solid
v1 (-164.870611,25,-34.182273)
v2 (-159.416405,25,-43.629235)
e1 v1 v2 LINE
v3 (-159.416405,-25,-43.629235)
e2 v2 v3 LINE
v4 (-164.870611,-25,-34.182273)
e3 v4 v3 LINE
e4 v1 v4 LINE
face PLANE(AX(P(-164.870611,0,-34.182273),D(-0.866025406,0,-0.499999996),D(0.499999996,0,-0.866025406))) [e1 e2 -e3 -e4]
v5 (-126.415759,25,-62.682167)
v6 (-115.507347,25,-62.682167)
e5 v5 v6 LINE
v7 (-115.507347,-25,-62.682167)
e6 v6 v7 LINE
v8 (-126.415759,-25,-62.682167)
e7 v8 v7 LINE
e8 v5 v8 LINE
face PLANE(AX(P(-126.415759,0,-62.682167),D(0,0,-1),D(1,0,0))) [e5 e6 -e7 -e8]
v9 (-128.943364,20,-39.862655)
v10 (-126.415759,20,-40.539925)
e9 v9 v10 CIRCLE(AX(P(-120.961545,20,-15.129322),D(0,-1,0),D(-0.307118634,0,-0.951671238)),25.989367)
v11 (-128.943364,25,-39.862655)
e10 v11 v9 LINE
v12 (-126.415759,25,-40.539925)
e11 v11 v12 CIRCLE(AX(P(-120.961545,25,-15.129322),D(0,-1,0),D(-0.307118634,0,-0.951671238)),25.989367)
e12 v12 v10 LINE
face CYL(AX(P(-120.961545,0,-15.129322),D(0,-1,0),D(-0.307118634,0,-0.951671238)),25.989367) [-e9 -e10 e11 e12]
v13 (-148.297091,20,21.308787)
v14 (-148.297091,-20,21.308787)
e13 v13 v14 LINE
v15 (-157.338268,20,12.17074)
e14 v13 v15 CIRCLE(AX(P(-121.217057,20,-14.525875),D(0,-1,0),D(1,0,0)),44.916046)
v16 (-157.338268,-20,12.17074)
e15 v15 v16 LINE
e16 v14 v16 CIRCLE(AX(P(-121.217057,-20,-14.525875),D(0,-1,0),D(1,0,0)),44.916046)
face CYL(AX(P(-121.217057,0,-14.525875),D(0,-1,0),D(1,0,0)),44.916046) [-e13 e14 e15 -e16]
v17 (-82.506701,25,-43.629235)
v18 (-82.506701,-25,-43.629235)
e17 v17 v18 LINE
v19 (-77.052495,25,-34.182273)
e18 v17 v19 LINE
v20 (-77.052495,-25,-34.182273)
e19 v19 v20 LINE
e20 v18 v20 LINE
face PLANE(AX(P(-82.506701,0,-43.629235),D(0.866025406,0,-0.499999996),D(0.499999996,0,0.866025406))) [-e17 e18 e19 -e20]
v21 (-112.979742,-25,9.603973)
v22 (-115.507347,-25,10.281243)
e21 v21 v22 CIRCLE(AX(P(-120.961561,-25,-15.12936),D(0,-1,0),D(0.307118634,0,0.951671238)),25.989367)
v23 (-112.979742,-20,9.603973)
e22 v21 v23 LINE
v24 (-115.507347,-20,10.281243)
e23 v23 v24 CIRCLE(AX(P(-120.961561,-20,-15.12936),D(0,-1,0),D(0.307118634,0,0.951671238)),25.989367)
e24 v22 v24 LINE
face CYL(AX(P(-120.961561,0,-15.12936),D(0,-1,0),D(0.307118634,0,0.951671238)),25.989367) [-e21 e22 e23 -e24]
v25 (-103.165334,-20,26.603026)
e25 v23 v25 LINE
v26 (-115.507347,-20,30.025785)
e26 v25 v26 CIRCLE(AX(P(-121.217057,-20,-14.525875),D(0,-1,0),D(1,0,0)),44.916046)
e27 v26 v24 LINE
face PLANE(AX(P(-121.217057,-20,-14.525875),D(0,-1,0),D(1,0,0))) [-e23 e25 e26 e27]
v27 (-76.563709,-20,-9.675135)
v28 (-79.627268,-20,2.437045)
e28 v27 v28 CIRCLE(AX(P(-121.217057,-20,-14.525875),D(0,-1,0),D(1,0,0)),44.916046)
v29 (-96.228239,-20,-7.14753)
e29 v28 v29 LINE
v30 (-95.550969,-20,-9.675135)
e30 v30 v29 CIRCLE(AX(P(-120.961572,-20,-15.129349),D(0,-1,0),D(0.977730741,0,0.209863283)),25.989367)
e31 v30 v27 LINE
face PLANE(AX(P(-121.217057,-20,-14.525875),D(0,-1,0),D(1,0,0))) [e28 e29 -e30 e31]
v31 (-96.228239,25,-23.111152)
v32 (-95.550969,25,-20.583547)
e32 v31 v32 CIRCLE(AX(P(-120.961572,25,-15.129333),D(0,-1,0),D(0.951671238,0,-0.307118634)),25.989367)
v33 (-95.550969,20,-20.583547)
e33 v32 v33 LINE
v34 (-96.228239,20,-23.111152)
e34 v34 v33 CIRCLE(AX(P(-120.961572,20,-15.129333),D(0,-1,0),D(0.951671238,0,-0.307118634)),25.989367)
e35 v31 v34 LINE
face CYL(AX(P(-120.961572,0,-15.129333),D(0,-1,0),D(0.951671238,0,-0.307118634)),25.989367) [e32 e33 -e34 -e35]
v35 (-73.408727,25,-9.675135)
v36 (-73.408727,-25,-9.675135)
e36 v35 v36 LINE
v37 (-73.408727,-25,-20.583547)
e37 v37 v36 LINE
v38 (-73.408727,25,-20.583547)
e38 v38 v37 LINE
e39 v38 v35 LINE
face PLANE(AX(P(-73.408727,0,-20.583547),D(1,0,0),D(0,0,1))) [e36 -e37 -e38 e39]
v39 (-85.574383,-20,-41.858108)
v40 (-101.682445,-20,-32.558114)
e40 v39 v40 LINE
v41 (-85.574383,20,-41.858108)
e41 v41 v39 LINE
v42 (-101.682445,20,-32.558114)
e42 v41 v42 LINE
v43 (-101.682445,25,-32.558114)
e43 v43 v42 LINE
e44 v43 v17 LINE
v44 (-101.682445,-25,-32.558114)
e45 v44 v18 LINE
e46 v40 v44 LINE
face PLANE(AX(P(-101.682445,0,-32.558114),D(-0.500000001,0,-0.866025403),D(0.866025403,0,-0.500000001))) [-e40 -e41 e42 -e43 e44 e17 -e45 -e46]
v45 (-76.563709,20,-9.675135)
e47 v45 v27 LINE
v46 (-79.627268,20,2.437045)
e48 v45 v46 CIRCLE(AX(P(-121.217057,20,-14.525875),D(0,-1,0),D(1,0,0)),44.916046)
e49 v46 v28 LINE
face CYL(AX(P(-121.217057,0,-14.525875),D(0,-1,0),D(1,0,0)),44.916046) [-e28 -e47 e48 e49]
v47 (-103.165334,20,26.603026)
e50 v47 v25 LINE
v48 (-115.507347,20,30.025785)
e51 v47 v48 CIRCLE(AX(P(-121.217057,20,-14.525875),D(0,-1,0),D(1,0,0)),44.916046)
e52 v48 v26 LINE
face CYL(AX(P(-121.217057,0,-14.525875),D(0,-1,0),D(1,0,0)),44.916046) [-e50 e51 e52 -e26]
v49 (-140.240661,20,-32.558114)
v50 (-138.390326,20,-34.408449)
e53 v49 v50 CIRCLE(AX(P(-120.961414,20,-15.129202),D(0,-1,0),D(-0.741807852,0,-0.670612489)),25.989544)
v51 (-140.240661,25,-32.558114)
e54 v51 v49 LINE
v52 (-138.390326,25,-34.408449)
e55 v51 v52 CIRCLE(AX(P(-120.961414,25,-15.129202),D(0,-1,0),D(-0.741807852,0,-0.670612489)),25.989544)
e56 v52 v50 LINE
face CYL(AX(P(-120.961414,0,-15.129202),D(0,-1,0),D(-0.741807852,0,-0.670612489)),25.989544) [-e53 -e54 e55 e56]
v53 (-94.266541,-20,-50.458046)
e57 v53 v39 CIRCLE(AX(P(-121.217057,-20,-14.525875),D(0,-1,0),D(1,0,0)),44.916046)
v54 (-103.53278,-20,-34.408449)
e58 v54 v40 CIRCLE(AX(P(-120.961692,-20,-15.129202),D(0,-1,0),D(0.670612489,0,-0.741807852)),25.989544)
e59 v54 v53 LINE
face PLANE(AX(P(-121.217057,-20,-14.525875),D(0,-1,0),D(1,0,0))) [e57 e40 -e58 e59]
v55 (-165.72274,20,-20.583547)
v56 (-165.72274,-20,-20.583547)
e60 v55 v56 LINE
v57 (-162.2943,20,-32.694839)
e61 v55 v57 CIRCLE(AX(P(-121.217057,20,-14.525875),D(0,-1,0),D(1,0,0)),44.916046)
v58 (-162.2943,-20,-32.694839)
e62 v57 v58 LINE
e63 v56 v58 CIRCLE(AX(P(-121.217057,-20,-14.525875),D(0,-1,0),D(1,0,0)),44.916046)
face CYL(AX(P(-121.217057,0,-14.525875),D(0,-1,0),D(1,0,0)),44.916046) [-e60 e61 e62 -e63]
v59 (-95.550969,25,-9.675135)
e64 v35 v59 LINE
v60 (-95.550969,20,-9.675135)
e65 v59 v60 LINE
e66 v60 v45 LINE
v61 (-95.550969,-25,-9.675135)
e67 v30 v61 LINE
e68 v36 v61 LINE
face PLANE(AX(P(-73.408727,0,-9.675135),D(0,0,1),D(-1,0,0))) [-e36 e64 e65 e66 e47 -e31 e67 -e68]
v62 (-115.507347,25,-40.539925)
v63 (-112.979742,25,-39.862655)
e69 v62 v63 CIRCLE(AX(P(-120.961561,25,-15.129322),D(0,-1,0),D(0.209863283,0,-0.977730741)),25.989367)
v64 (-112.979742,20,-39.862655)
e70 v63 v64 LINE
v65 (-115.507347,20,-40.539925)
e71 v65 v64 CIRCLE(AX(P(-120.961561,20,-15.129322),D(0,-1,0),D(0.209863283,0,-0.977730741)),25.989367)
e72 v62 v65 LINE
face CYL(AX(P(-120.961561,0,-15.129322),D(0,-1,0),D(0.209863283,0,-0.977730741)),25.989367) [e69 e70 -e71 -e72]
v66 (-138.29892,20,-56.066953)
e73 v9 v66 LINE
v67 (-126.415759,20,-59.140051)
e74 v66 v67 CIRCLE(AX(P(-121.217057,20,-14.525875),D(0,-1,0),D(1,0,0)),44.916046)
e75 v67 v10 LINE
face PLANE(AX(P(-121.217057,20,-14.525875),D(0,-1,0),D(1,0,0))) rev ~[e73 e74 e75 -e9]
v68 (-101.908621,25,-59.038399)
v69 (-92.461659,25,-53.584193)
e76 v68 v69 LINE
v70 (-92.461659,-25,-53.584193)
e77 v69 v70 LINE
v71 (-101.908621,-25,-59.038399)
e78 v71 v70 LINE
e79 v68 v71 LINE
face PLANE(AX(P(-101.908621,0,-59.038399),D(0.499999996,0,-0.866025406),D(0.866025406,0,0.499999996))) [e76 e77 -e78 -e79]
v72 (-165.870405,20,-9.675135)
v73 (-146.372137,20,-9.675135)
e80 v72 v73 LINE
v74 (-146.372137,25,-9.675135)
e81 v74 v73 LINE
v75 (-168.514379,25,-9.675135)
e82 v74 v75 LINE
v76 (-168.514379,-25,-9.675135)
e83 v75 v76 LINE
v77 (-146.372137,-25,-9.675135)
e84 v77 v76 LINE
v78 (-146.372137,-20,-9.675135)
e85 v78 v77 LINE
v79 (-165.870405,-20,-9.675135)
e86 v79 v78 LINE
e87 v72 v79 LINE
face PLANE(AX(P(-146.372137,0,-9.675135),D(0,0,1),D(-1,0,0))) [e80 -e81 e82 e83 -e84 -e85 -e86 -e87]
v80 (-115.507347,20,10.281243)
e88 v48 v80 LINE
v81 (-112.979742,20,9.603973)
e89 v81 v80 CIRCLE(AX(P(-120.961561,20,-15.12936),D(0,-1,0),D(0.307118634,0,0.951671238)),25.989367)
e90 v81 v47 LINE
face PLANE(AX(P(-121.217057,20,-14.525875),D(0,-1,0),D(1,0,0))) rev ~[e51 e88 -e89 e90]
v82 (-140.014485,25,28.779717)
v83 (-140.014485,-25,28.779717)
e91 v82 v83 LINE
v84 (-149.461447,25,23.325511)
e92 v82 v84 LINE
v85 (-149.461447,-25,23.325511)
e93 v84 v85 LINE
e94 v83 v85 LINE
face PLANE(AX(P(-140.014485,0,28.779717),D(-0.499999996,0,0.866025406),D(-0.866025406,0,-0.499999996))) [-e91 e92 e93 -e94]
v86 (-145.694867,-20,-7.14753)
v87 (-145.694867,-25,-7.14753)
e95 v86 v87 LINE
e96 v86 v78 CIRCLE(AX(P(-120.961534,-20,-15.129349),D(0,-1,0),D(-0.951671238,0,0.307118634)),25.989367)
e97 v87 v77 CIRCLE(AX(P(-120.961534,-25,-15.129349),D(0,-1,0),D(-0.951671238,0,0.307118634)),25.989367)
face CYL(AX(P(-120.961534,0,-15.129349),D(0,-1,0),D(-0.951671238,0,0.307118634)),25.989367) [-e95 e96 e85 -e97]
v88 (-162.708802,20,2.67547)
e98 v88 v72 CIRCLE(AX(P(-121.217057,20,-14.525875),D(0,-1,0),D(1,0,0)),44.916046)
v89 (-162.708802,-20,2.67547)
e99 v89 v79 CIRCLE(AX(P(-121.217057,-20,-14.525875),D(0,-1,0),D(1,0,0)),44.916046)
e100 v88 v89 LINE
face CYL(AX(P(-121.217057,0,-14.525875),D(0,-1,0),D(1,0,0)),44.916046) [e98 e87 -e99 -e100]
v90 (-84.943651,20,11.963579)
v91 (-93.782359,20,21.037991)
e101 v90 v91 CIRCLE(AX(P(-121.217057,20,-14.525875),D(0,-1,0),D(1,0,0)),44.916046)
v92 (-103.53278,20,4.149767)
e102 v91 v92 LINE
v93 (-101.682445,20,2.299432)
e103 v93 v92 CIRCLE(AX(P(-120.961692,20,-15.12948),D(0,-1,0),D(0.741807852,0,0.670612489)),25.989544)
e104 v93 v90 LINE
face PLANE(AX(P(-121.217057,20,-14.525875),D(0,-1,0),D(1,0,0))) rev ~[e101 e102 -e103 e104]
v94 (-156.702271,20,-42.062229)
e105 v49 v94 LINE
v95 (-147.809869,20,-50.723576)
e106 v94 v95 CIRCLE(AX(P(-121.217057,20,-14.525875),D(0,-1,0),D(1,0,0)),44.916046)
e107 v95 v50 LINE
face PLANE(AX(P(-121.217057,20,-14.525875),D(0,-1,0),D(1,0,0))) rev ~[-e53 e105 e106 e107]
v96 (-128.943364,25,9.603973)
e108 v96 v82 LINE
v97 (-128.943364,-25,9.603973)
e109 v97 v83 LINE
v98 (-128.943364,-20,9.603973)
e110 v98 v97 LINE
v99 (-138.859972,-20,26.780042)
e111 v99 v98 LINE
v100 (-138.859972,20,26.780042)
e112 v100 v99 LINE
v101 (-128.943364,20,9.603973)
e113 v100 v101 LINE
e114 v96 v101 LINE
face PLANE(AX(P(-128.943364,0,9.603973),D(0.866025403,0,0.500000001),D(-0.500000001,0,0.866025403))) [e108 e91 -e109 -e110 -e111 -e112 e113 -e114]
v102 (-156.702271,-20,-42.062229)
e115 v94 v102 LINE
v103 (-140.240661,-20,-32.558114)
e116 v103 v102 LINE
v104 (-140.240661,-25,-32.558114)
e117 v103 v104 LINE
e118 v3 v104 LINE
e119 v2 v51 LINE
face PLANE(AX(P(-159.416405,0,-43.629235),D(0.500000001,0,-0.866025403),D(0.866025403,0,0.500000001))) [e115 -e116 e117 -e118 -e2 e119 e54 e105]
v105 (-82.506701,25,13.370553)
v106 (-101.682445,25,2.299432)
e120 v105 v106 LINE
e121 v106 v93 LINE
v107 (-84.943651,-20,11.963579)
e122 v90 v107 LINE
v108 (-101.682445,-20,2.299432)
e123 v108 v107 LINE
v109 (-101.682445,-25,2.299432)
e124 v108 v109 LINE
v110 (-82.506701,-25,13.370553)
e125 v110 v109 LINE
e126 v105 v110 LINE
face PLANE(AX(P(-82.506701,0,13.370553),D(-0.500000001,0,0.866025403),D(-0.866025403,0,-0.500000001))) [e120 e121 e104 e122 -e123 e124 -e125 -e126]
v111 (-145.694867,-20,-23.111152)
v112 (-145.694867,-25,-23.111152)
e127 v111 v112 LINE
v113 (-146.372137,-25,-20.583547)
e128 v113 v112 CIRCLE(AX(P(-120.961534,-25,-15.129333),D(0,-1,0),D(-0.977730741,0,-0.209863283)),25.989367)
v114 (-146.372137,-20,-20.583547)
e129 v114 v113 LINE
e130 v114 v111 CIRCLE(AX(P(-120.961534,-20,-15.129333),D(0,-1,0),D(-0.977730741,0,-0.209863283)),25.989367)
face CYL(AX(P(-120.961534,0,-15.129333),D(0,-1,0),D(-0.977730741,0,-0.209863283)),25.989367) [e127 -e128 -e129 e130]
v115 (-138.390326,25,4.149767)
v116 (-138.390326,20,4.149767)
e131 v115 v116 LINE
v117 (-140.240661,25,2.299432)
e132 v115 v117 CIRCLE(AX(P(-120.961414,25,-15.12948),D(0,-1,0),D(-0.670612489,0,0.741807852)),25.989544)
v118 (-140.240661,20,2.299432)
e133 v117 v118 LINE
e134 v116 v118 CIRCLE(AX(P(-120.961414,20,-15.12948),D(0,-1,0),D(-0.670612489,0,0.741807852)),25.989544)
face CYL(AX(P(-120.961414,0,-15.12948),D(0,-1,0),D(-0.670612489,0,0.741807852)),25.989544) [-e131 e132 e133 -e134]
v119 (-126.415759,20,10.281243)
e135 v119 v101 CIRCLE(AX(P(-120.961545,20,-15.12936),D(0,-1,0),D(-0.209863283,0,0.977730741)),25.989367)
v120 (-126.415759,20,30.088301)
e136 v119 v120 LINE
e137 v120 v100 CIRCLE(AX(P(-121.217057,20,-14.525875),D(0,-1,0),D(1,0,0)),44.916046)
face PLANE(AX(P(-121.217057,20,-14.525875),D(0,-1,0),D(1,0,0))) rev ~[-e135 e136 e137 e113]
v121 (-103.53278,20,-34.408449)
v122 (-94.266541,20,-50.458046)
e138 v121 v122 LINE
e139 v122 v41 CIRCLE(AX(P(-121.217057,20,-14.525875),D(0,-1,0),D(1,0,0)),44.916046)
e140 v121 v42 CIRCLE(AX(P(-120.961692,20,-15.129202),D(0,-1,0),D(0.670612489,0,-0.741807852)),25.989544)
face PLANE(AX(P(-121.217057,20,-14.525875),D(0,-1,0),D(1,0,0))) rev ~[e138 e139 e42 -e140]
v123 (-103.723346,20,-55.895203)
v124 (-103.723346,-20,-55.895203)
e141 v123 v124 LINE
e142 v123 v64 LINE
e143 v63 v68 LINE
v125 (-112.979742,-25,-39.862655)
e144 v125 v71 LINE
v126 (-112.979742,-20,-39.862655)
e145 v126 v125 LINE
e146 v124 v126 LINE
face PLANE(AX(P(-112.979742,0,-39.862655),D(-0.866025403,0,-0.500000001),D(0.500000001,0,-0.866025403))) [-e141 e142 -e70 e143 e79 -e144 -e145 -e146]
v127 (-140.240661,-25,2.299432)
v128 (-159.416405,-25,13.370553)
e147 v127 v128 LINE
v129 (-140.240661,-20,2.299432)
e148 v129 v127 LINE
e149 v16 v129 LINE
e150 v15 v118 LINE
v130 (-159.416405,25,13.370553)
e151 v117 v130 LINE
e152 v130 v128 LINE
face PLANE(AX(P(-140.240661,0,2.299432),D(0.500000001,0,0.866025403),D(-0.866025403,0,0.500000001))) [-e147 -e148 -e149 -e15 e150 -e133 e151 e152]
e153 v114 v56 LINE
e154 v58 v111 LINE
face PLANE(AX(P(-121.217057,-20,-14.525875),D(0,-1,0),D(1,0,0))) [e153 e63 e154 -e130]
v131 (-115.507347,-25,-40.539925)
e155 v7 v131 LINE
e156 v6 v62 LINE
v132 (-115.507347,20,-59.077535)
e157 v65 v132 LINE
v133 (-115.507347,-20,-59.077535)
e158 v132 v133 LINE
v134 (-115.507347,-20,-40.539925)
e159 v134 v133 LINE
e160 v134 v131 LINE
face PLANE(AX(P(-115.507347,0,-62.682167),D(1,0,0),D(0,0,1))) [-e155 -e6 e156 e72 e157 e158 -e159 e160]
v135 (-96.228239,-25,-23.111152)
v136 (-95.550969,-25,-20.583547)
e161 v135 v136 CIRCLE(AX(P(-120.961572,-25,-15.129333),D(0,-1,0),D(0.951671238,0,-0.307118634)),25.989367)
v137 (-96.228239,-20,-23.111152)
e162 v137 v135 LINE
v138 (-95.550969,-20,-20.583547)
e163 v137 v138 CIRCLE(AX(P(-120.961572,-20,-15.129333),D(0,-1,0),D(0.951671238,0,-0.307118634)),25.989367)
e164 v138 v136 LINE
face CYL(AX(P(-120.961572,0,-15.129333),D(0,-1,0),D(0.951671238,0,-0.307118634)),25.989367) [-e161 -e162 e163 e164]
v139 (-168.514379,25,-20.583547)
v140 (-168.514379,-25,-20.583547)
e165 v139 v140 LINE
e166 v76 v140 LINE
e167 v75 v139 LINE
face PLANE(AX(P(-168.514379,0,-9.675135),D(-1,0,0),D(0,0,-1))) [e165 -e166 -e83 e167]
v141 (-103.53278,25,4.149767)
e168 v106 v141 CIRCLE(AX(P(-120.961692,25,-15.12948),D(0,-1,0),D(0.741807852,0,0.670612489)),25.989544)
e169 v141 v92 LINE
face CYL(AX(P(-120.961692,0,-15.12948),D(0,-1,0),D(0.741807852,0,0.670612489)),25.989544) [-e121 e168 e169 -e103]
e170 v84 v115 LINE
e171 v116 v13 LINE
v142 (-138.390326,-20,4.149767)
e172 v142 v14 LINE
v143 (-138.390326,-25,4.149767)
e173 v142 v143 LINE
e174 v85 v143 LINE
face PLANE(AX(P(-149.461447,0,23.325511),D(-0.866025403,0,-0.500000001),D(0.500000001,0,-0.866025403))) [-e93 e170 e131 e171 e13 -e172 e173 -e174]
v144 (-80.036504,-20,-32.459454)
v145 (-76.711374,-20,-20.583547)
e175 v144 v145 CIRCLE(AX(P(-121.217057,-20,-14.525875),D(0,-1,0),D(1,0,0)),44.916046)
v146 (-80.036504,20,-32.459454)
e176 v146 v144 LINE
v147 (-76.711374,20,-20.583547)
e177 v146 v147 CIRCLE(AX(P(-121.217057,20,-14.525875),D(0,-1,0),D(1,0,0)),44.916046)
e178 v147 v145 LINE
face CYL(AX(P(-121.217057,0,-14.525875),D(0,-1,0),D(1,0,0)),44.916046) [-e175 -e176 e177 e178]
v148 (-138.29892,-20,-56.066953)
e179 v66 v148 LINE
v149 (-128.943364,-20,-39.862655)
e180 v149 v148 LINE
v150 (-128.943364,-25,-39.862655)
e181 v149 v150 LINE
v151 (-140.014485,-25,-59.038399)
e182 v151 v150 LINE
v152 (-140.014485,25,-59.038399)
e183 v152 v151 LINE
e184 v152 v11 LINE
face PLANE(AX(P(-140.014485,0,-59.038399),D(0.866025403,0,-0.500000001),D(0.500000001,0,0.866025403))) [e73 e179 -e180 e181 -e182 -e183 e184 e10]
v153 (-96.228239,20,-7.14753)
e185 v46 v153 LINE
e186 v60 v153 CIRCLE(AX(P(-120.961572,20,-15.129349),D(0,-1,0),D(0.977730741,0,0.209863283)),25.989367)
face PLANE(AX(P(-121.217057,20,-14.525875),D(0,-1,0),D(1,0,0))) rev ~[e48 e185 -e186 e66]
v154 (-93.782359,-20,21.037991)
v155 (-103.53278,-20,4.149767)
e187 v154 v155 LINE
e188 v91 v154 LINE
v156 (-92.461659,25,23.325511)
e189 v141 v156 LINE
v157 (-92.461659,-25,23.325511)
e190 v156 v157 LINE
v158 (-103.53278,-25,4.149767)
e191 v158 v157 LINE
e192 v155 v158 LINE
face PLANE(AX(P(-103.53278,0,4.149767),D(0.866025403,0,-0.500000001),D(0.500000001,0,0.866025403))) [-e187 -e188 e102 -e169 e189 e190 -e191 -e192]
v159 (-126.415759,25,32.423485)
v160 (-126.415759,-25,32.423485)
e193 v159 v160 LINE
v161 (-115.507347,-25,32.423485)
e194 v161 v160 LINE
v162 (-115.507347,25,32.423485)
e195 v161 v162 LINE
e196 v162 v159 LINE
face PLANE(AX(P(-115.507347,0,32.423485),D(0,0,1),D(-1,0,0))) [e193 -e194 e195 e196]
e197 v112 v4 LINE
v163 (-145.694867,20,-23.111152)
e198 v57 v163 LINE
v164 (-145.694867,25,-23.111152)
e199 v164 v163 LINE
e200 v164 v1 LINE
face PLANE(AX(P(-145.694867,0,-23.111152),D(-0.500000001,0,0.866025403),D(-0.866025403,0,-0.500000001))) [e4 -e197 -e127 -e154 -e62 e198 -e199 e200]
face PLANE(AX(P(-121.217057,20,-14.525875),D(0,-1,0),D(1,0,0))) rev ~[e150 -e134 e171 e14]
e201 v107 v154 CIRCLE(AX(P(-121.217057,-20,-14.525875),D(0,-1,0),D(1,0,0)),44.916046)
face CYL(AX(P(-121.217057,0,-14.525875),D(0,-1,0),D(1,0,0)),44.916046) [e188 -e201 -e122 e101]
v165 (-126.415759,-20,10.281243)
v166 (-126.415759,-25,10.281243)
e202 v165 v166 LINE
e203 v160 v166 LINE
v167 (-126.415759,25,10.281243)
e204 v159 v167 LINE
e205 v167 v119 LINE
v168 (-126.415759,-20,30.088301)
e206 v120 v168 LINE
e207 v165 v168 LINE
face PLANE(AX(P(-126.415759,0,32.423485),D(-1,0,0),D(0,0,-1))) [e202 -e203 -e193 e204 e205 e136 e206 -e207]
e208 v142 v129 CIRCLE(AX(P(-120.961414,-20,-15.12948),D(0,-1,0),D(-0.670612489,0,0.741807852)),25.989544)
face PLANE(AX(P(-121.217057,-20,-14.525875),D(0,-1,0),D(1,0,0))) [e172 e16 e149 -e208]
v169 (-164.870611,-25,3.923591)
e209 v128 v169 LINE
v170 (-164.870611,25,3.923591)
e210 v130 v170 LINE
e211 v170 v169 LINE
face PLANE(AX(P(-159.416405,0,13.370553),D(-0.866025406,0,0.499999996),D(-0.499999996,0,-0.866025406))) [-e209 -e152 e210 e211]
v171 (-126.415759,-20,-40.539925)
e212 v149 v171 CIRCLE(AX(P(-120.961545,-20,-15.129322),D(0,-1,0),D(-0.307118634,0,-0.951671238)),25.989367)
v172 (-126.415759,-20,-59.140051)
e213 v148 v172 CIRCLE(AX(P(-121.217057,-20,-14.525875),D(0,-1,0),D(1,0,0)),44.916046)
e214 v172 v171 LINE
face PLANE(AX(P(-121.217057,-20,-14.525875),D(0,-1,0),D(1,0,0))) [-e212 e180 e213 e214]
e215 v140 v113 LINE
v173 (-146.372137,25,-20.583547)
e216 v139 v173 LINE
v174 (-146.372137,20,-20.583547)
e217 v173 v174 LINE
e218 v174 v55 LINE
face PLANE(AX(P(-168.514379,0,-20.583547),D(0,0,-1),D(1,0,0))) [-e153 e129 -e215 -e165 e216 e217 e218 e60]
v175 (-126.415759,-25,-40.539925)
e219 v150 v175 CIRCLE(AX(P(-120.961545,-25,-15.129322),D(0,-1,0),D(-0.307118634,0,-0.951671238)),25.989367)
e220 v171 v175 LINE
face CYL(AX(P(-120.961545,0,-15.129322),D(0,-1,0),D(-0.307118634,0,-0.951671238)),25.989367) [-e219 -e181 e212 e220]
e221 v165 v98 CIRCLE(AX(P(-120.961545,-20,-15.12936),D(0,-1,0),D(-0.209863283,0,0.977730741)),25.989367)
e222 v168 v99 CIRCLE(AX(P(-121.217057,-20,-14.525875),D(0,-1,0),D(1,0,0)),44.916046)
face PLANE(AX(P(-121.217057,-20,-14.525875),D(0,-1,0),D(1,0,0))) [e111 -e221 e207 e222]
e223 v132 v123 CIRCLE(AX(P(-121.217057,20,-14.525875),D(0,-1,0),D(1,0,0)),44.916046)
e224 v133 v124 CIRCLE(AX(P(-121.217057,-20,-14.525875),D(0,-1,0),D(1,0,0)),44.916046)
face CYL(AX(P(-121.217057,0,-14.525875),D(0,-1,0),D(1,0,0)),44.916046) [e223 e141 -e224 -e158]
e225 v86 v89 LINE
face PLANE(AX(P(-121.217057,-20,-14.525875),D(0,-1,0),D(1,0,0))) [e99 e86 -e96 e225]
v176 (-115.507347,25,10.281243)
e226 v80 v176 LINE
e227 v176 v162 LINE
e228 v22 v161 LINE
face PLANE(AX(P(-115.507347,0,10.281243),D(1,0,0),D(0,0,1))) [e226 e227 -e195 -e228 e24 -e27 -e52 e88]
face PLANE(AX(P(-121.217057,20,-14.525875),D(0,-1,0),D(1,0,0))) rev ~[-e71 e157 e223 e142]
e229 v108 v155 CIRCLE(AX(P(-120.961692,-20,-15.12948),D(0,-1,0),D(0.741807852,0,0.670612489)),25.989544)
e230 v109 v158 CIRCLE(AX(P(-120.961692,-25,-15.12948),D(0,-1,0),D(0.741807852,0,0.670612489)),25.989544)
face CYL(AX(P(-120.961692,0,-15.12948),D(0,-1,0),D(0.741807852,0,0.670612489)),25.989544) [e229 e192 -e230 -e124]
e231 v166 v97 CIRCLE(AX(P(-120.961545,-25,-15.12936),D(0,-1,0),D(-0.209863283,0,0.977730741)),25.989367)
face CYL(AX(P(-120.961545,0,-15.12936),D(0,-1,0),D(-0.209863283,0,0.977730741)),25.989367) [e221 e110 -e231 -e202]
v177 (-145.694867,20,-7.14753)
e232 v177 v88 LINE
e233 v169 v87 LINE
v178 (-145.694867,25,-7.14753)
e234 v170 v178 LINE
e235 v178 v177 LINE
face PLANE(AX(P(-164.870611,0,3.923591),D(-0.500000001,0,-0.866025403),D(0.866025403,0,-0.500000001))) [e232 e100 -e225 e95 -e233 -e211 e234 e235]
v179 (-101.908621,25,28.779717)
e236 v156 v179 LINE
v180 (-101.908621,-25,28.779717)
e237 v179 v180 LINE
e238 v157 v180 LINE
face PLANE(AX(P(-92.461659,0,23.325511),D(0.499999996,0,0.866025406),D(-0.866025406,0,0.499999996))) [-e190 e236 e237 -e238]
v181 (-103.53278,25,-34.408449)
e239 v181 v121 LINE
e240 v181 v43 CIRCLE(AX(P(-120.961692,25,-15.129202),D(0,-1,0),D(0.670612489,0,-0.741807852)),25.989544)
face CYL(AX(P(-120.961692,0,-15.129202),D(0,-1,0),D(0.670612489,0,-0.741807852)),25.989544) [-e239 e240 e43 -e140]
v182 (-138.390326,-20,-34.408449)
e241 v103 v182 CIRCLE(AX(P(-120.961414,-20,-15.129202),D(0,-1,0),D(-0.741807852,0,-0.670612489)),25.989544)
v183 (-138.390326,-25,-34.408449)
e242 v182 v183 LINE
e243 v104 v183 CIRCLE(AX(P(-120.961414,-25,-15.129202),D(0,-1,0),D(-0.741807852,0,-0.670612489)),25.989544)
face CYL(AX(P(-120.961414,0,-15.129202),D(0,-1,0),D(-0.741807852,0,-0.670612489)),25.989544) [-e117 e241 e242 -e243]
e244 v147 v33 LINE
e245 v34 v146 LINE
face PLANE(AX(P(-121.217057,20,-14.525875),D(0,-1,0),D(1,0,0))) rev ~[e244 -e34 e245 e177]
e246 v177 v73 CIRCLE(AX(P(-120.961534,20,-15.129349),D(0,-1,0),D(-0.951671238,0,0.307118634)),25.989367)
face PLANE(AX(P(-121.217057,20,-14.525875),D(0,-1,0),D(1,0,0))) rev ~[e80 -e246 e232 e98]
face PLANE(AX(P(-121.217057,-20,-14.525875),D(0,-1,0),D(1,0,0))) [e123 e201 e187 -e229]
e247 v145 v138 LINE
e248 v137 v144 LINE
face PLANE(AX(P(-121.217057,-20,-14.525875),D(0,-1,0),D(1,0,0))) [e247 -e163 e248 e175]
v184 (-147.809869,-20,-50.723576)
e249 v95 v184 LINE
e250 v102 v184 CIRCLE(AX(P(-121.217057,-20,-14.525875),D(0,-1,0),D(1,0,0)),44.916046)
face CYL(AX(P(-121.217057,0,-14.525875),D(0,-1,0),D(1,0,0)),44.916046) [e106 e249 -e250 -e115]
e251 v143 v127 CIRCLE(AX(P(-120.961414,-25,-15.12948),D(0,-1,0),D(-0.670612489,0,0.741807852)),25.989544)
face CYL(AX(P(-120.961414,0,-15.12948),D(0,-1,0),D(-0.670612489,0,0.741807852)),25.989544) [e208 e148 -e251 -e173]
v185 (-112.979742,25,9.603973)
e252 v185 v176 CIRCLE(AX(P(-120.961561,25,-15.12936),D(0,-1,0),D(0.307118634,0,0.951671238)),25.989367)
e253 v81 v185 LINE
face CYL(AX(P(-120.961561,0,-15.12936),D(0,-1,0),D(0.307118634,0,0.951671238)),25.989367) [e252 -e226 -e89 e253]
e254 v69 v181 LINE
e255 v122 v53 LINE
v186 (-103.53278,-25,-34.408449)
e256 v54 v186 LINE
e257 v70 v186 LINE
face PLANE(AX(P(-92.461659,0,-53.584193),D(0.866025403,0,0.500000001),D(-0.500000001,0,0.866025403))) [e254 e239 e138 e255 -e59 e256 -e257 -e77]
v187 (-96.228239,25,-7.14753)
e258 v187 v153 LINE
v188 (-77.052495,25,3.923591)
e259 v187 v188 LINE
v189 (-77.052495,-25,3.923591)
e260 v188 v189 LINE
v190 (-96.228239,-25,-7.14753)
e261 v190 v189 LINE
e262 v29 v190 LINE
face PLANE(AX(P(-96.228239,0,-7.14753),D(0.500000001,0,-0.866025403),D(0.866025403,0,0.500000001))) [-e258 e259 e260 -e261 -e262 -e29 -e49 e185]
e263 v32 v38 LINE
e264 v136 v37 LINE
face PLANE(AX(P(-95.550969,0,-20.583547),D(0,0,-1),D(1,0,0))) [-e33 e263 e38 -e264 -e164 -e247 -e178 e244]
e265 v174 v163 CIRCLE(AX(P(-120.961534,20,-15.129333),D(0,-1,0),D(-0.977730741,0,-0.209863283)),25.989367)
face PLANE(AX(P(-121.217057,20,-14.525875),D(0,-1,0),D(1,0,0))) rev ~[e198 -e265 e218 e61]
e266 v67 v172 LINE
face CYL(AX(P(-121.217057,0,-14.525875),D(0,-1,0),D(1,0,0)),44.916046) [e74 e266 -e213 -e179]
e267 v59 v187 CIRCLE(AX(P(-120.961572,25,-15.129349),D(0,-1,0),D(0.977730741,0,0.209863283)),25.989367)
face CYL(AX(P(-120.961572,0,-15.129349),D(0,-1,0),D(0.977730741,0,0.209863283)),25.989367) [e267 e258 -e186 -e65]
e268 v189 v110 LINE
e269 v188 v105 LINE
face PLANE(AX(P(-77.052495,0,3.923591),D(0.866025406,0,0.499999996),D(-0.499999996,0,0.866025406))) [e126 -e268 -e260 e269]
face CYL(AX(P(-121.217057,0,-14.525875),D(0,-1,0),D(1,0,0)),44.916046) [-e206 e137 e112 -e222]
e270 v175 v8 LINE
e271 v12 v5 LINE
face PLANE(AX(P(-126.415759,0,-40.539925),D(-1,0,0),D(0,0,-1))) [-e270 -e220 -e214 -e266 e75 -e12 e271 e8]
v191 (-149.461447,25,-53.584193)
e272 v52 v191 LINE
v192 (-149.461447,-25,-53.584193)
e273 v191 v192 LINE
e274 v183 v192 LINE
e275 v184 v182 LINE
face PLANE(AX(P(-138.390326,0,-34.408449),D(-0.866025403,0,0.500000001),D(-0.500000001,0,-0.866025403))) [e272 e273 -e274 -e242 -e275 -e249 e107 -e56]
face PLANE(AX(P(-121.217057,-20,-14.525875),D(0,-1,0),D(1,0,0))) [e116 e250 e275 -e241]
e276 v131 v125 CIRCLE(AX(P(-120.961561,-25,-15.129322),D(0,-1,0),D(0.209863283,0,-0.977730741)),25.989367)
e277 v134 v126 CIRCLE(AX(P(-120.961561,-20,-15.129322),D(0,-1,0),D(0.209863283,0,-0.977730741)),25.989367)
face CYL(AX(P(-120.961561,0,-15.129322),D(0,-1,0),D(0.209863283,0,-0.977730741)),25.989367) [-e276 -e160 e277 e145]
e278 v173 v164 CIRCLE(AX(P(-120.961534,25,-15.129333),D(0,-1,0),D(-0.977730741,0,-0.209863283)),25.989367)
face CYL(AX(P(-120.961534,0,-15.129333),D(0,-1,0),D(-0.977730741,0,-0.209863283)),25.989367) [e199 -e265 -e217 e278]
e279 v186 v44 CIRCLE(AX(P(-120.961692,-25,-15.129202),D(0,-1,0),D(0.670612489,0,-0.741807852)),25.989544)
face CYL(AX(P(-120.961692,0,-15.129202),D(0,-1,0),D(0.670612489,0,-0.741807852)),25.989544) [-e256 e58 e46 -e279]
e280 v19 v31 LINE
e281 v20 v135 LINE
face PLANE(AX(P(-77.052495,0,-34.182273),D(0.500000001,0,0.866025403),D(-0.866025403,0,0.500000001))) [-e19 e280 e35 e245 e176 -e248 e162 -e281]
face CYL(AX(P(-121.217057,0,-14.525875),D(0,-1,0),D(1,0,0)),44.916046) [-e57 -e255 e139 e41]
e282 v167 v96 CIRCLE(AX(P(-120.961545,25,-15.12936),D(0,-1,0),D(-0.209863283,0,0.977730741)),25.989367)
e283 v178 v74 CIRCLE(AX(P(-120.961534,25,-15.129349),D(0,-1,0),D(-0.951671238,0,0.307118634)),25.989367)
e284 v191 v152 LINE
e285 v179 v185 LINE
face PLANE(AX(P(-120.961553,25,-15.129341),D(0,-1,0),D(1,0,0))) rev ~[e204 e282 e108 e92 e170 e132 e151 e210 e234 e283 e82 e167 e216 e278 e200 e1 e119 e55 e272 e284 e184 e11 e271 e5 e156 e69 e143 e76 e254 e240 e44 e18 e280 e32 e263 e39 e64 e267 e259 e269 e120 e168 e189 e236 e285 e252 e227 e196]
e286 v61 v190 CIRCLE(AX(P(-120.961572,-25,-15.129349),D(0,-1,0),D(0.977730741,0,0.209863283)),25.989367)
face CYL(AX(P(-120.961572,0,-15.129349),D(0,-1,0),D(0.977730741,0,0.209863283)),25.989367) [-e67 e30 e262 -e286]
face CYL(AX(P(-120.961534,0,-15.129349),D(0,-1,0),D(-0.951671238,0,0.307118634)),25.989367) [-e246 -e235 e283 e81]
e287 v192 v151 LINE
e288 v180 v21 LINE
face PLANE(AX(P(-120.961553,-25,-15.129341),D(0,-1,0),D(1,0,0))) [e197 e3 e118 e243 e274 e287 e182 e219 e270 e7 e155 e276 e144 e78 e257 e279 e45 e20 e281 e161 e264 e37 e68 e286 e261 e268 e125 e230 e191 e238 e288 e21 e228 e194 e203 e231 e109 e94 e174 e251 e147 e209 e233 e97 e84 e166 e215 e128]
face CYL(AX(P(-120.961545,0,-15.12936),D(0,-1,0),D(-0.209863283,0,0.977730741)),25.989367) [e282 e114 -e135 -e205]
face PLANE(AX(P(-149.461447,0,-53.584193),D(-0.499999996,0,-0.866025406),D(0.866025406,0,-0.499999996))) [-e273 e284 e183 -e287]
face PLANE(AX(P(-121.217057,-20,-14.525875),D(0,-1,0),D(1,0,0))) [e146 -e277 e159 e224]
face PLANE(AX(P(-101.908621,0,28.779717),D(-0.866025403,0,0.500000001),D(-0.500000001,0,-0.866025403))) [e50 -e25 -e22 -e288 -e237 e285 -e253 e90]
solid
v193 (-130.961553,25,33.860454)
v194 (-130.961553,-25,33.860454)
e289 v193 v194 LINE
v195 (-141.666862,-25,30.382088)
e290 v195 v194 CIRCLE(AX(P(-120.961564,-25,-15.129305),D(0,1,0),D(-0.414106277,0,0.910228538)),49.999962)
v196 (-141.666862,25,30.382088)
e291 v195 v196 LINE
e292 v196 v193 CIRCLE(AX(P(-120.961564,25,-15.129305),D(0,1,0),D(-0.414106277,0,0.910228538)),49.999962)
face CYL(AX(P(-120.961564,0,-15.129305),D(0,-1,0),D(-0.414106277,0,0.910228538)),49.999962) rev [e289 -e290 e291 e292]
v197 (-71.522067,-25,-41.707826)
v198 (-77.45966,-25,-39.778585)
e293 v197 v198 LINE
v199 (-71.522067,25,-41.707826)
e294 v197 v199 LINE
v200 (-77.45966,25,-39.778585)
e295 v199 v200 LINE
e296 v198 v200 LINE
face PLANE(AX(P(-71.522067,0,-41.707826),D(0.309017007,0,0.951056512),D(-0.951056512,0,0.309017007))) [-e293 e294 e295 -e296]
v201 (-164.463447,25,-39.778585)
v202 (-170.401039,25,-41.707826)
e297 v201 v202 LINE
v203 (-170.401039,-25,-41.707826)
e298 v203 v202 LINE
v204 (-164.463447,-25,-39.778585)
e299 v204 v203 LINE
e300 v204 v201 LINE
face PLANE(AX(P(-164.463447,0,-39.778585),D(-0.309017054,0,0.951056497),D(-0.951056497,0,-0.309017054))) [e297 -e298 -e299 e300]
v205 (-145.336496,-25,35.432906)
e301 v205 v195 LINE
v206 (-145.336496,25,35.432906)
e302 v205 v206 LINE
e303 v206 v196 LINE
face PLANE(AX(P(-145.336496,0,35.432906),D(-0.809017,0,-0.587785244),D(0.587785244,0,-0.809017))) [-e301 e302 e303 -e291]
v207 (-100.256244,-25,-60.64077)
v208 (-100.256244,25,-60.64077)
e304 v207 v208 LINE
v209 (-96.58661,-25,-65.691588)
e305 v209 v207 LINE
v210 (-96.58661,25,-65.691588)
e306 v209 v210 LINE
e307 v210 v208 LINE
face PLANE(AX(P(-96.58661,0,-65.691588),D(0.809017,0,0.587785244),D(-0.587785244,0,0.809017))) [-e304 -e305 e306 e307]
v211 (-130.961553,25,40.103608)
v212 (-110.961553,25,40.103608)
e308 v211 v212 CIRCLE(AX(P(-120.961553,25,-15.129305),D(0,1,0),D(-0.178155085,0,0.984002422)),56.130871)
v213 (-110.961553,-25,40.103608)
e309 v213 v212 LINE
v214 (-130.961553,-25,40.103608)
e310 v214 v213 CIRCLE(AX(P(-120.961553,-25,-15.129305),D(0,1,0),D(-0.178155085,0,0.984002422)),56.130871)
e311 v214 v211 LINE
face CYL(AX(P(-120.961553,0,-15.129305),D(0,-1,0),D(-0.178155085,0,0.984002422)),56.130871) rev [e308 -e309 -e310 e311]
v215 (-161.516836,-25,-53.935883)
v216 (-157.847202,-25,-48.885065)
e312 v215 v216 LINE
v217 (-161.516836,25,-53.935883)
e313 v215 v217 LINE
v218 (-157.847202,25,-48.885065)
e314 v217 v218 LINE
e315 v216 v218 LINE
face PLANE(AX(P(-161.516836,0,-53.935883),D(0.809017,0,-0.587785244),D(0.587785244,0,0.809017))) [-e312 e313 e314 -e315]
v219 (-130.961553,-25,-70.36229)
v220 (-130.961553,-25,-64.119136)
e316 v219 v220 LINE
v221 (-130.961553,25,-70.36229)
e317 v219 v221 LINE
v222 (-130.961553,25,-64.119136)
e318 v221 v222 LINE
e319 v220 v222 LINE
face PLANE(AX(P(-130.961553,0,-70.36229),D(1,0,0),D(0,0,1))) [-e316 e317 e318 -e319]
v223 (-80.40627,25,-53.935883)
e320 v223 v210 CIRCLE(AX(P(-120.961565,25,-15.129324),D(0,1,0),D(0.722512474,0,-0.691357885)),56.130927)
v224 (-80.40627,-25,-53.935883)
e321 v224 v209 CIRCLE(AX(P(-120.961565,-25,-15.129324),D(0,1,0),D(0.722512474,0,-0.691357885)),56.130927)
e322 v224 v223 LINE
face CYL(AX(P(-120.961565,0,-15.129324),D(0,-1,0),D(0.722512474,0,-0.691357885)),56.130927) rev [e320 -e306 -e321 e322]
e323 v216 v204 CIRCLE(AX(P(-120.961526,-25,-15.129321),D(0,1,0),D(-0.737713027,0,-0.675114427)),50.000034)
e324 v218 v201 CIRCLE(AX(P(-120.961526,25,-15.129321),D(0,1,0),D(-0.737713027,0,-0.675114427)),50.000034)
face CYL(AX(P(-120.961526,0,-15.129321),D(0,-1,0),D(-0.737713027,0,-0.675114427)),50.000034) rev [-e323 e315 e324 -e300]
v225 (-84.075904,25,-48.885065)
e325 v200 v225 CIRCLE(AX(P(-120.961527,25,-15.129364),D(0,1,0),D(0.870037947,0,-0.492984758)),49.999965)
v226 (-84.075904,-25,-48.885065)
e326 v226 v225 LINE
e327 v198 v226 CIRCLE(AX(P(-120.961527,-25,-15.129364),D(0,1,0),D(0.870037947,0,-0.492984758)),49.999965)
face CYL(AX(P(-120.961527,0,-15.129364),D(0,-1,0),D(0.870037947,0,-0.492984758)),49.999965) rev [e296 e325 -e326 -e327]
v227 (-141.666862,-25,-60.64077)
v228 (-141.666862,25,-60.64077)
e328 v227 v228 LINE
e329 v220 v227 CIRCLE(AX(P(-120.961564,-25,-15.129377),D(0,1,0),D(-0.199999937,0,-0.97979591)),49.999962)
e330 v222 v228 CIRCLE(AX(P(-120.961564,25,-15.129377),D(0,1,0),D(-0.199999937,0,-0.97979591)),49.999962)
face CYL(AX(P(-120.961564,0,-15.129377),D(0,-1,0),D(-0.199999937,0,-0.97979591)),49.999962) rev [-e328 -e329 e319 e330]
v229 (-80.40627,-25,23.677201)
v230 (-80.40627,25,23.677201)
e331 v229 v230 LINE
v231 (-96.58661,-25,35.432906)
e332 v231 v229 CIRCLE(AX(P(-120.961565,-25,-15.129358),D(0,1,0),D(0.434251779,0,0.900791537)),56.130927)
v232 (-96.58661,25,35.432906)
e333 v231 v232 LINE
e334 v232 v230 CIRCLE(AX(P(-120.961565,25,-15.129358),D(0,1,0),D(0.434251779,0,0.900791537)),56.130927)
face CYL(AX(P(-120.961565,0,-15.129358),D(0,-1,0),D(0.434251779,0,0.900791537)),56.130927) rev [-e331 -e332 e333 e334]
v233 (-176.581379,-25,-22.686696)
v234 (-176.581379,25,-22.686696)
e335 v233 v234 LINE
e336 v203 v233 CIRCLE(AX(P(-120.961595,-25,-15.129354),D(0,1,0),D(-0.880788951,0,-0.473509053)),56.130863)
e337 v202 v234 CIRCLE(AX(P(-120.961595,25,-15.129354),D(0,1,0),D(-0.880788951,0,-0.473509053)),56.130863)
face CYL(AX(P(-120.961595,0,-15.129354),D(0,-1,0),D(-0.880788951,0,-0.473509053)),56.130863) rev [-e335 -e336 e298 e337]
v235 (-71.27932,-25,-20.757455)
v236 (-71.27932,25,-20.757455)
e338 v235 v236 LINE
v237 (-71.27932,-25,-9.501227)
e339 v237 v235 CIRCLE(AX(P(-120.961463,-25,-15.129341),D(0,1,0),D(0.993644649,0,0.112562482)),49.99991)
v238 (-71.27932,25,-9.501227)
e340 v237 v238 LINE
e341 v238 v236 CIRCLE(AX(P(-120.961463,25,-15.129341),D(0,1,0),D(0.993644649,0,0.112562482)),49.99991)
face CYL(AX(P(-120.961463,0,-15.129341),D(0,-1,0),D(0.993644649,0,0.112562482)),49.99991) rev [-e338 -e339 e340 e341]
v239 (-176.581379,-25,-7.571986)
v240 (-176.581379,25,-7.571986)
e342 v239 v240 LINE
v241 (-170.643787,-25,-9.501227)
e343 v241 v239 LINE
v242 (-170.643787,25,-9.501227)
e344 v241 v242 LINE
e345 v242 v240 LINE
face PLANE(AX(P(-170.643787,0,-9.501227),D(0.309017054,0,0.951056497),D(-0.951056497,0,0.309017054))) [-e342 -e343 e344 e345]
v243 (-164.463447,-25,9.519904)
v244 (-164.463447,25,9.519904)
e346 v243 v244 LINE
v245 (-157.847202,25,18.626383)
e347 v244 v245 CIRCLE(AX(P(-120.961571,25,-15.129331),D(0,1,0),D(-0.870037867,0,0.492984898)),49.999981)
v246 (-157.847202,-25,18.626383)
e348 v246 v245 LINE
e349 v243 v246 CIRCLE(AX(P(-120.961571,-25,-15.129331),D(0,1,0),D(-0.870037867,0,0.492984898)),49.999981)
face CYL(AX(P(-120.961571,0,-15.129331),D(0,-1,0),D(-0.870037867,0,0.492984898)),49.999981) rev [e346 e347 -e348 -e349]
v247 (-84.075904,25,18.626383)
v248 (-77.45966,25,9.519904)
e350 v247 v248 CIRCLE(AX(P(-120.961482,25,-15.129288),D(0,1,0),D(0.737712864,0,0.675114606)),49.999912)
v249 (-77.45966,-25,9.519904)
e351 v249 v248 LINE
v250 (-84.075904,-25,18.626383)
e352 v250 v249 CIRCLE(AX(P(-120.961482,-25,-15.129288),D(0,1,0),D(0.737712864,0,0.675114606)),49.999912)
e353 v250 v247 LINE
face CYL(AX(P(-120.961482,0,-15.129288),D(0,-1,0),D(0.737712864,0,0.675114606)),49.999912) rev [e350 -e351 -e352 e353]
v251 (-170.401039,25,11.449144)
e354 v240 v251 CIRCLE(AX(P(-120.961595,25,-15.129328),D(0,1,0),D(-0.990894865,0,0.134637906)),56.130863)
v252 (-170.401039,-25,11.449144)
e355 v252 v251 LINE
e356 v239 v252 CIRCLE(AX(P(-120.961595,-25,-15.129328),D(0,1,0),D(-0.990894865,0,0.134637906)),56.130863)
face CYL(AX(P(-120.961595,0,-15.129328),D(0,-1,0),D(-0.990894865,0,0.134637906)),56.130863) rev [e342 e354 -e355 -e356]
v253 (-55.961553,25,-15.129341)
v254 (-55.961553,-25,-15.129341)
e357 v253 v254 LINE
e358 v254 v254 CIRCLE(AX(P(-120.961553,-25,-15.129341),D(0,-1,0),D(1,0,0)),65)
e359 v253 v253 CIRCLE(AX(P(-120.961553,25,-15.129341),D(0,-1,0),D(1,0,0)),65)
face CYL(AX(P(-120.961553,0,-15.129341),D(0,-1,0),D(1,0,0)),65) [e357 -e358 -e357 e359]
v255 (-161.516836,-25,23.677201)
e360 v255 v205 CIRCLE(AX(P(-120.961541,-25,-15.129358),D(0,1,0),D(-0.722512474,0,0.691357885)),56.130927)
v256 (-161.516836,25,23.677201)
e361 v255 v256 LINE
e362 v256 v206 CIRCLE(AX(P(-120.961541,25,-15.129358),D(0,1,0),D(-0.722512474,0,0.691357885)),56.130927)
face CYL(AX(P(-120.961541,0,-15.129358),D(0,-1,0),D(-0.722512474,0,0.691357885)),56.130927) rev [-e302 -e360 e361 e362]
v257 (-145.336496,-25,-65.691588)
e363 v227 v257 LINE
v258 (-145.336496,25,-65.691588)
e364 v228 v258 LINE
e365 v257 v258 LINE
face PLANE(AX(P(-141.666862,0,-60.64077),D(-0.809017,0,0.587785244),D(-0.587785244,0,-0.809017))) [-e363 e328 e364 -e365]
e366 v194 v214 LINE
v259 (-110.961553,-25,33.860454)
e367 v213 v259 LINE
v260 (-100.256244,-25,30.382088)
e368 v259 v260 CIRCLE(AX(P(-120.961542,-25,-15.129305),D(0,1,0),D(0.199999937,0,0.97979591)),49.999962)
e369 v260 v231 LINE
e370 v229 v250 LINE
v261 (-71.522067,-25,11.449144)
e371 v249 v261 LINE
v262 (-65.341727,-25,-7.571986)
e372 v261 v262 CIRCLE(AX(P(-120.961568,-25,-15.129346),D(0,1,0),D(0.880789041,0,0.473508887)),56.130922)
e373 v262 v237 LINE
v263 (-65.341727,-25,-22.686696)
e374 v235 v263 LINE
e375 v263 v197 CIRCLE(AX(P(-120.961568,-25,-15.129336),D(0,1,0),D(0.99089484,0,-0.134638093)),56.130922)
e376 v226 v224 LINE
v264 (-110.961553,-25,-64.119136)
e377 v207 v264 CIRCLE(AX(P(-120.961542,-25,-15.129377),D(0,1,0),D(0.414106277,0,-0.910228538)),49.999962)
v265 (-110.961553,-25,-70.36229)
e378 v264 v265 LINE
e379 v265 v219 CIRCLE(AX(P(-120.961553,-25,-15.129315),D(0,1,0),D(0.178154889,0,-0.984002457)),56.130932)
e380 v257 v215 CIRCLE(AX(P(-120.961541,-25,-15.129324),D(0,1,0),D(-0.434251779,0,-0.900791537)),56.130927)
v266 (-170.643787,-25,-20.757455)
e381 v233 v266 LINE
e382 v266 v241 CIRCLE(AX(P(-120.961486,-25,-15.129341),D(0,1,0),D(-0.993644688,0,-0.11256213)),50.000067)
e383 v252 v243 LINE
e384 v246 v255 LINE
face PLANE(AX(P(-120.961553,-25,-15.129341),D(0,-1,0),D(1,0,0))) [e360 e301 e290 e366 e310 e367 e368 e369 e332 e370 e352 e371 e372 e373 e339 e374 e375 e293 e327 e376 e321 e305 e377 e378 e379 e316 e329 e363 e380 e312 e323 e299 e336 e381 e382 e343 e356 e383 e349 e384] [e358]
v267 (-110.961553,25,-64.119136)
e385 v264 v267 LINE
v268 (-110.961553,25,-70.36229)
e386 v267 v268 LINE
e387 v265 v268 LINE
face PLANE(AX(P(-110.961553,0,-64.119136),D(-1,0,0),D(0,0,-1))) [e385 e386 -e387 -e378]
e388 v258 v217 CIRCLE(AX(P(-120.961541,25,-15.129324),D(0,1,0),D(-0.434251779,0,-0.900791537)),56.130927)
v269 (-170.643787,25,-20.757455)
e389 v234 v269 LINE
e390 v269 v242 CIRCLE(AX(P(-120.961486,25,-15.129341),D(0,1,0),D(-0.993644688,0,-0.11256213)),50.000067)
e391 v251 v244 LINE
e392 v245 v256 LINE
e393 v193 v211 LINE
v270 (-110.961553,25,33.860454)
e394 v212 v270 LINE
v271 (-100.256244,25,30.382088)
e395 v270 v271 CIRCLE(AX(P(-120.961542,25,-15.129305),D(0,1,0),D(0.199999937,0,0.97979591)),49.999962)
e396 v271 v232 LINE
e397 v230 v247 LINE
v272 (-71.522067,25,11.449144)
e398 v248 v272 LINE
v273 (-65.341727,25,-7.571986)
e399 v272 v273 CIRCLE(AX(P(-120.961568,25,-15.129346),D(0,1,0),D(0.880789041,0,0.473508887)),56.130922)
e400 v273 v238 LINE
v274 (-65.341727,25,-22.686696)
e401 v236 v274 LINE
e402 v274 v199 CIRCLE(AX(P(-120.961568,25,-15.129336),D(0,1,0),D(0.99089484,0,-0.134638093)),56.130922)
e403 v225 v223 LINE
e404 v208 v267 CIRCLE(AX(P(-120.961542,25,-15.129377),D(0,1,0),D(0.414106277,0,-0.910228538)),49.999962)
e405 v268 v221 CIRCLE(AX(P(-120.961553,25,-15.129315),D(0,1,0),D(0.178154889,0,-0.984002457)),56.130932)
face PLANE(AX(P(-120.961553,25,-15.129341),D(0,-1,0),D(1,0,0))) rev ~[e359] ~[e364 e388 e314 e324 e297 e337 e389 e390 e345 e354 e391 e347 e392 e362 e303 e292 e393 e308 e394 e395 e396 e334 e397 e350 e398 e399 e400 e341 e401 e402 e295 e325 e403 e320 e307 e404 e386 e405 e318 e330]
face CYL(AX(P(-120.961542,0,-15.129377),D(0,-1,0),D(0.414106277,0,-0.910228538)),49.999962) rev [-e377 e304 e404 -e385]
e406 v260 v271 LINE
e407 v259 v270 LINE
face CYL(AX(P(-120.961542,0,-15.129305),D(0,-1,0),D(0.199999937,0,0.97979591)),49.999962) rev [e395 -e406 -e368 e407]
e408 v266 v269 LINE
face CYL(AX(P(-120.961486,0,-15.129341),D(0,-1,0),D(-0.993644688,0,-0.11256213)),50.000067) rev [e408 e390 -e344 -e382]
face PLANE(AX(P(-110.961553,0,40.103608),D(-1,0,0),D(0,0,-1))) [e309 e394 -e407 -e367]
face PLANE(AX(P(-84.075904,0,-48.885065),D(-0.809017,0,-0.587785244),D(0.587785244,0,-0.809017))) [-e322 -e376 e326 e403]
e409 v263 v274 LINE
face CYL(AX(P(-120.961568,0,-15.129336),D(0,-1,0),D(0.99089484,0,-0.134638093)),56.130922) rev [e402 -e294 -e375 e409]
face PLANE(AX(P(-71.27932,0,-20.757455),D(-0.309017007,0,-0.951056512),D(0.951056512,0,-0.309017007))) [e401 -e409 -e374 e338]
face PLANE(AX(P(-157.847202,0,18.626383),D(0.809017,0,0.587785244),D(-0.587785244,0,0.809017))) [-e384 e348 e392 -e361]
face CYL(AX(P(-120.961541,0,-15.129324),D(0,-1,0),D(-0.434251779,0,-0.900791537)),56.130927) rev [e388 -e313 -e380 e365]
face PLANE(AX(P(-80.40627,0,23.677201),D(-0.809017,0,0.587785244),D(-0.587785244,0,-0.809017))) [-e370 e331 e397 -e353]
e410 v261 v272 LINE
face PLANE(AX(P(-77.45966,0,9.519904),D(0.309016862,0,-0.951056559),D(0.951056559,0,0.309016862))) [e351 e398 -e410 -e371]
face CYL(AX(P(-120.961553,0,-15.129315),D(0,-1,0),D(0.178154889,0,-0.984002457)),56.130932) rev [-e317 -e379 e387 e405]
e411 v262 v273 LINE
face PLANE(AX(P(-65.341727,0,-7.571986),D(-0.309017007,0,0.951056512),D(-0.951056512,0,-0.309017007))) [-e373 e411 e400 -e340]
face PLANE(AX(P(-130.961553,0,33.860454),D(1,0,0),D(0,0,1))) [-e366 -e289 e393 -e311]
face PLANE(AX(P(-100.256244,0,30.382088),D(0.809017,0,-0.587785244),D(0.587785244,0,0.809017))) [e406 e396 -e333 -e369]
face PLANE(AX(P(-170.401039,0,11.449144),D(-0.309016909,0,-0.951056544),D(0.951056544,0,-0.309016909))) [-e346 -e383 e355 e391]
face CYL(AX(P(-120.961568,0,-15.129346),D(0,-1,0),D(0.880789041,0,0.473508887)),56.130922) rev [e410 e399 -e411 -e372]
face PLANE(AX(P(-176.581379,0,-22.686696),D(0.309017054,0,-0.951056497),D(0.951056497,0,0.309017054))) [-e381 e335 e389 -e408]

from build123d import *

# Parameters (mm, degrees)
F2_DEPTH = 25
F0_R     = 65
F3_DEPTH = 25
F1_R     = 44.916046
F4_DEPTH = 20


with BuildPart() as f2:
    # F0 (on Front) → F2 (new body, symmetric)
    with BuildSketch(Plane.XZ):
        with BuildLine():
            Line((-115.507347, 32.423485), (-120.961553, 32.423485))
            Line((-120.961553, 32.423485), (-126.415759, 32.423485))
            Line((-126.415759, 32.423485), (-126.415759, 10.281243))
            ThreePointArc((-126.415759, 10.281243), (-127.688091, 9.97444), (-128.943364, 9.603973))
            Line((-128.943364, 9.603973), (-140.014485, 28.779717))
            Line((-140.014485, 28.779717), (-144.737966, 26.052614))
            Line((-144.737966, 26.052614), (-149.461447, 23.325511))
            Line((-149.461447, 23.325511), (-138.390326, 4.149767))
            ThreePointArc((-138.390326, 4.149767), (-139.338796, 3.247902), (-140.240661, 2.299432))
            Line((-140.240661, 2.299432), (-159.416405, 13.370553))
            Line((-159.416405, 13.370553), (-162.143508, 8.647072))
            Line((-162.143508, 8.647072), (-164.870611, 3.923591))
            Line((-164.870611, 3.923591), (-145.694867, -7.14753))
            ThreePointArc((-145.694867, -7.14753), (-146.065334, -8.402803), (-146.372137, -9.675135))
            Line((-146.372137, -9.675135), (-168.514379, -9.675135))
            Line((-168.514379, -9.675135), (-168.514379, -15.129341))
            Line((-168.514379, -15.129341), (-168.514379, -20.583547))
            Line((-168.514379, -20.583547), (-146.372137, -20.583547))
            ThreePointArc((-146.372137, -20.583547), (-146.065334, -21.855879), (-145.694867, -23.111152))
            Line((-145.694867, -23.111152), (-164.870611, -34.182273))
            Line((-164.870611, -34.182273), (-162.143508, -38.905754))
            Line((-162.143508, -38.905754), (-159.416405, -43.629235))
            Line((-159.416405, -43.629235), (-140.240661, -32.558114))
            ThreePointArc((-140.240661, -32.558114), (-139.338796, -33.506584), (-138.390326, -34.408449))
            Line((-138.390326, -34.408449), (-149.461447, -53.584193))
            Line((-149.461447, -53.584193), (-144.737966, -56.311296))
            Line((-144.737966, -56.311296), (-140.014485, -59.038399))
            Line((-140.014485, -59.038399), (-128.943364, -39.862655))
            ThreePointArc((-128.943364, -39.862655), (-127.688091, -40.233122), (-126.415759, -40.539925))
            Line((-126.415759, -40.539925), (-126.415759, -62.682167))
            Line((-126.415759, -62.682167), (-120.961553, -62.682167))
            Line((-120.961553, -62.682167), (-115.507347, -62.682167))
            Line((-115.507347, -62.682167), (-115.507347, -40.539925))
            ThreePointArc((-115.507347, -40.539925), (-114.235015, -40.233122), (-112.979742, -39.862655))
            Line((-112.979742, -39.862655), (-101.908621, -59.038399))
            Line((-101.908621, -59.038399), (-97.18514, -56.311296))
            Line((-97.18514, -56.311296), (-92.461659, -53.584193))
            Line((-92.461659, -53.584193), (-103.53278, -34.408449))
            ThreePointArc((-103.53278, -34.408449), (-102.58431, -33.506584), (-101.682445, -32.558114))
            Line((-101.682445, -32.558114), (-82.506701, -43.629235))
            Line((-82.506701, -43.629235), (-79.779598, -38.905754))
            Line((-79.779598, -38.905754), (-77.052495, -34.182273))
            Line((-77.052495, -34.182273), (-96.228239, -23.111152))
            ThreePointArc((-96.228239, -23.111152), (-95.857772, -21.855879), (-95.550969, -20.583547))
            Line((-95.550969, -20.583547), (-73.408727, -20.583547))
            Line((-73.408727, -20.583547), (-73.408727, -15.129341))
            Line((-73.408727, -15.129341), (-73.408727, -9.675135))
            Line((-73.408727, -9.675135), (-95.550969, -9.675135))
            ThreePointArc((-95.550969, -9.675135), (-95.857772, -8.402803), (-96.228239, -7.14753))
            Line((-96.228239, -7.14753), (-77.052495, 3.923591))
            Line((-77.052495, 3.923591), (-79.779598, 8.647072))
            Line((-79.779598, 8.647072), (-82.506701, 13.370553))
            Line((-82.506701, 13.370553), (-101.682445, 2.299432))
            ThreePointArc((-101.682445, 2.299432), (-102.58431, 3.247902), (-103.53278, 4.149767))
            Line((-103.53278, 4.149767), (-92.461659, 23.325511))
            Line((-92.461659, 23.325511), (-97.18514, 26.052614))
            Line((-97.18514, 26.052614), (-101.908621, 28.779717))
            Line((-101.908621, 28.779717), (-112.979742, 9.603973))
            ThreePointArc((-112.979742, 9.603973), (-114.235015, 9.97444), (-115.507347, 10.281243))
            Line((-115.507347, 10.281243), (-115.507347, 32.423485))
        make_face()
    extrude(amount=F2_DEPTH, both=True)

    # F1 (on Front) → F4 (join, symmetric)
    with BuildSketch(Plane.XZ):
        with Locations((-121.217057, -14.525875)):
            Circle(F1_R)
    extrude(amount=F4_DEPTH, both=True)


with BuildPart() as f3:
    # F0 (on Front) → F3 (new body, symmetric)
    with BuildSketch(Plane.XZ):
        with Locations((-120.961553, -15.129341)):
            Circle(F0_R)
        with BuildLine():
            Line((-130.961553, 33.860454), (-130.961553, 40.103608))
            ThreePointArc((-130.961553, 40.103608), (-120.961553, 41.001566), (-110.961553, 40.103608))
            Line((-110.961553, 40.103608), (-110.961553, 33.860454))
            ThreePointArc((-110.961553, 33.860454), (-105.510703, 32.423485), (-100.256244, 30.382088))
            Line((-100.256244, 30.382088), (-96.58661, 35.432906))
            ThreePointArc((-96.58661, 35.432906), (-87.968634, 30.281516), (-80.40627, 23.677201))
            Line((-80.40627, 23.677201), (-84.075904, 18.626383))
            ThreePointArc((-84.075904, 18.626383), (-80.510703, 14.259922), (-77.45966, 9.519904))
            Line((-77.45966, 9.519904), (-71.522067, 11.449144))
            ThreePointArc((-71.522067, 11.449144), (-67.577889, 2.216063), (-65.341727, -7.571986))
            Line((-65.341727, -7.571986), (-71.27932, -9.501227))
            ThreePointArc((-71.27932, -9.501227), (-70.961553, -15.129341), (-71.27932, -20.757455))
            Line((-71.27932, -20.757455), (-65.341727, -22.686696))
            ThreePointArc((-65.341727, -22.686696), (-67.577889, -32.474745), (-71.522067, -41.707826))
            Line((-71.522067, -41.707826), (-77.45966, -39.778585))
            ThreePointArc((-77.45966, -39.778585), (-80.510703, -44.518603), (-84.075904, -48.885065))
            Line((-84.075904, -48.885065), (-80.40627, -53.935883))
            ThreePointArc((-80.40627, -53.935883), (-87.968634, -60.540198), (-96.58661, -65.691588))
            Line((-96.58661, -65.691588), (-100.256244, -60.64077))
            ThreePointArc((-100.256244, -60.64077), (-105.510703, -62.682167), (-110.961553, -64.119136))
            Line((-110.961553, -64.119136), (-110.961553, -70.36229))
            ThreePointArc((-110.961553, -70.36229), (-120.961553, -71.260247), (-130.961553, -70.36229))
            Line((-130.961553, -70.36229), (-130.961553, -64.119136))
            ThreePointArc((-130.961553, -64.119136), (-136.412403, -62.682167), (-141.666862, -60.64077))
            Line((-141.666862, -60.64077), (-145.336496, -65.691588))
            ThreePointArc((-145.336496, -65.691588), (-153.954472, -60.540198), (-161.516836, -53.935883))
            Line((-161.516836, -53.935883), (-157.847202, -48.885065))
            ThreePointArc((-157.847202, -48.885065), (-161.412403, -44.518603), (-164.463447, -39.778585))
            Line((-164.463447, -39.778585), (-170.401039, -41.707826))
            ThreePointArc((-170.401039, -41.707826), (-174.345218, -32.474745), (-176.581379, -22.686696))
            Line((-176.581379, -22.686696), (-170.643787, -20.757455))
            ThreePointArc((-170.643787, -20.757455), (-170.961553, -15.129341), (-170.643787, -9.501227))
            Line((-170.643787, -9.501227), (-176.581379, -7.571986))
            ThreePointArc((-176.581379, -7.571986), (-174.345218, 2.216063), (-170.401039, 11.449144))
            Line((-170.401039, 11.449144), (-164.463447, 9.519904))
            ThreePointArc((-164.463447, 9.519904), (-161.412403, 14.259922), (-157.847202, 18.626383))
            Line((-157.847202, 18.626383), (-161.516836, 23.677201))
            ThreePointArc((-161.516836, 23.677201), (-153.954472, 30.281516), (-145.336496, 35.432906))
            Line((-145.336496, 35.432906), (-141.666862, 30.382088))
            ThreePointArc((-141.666862, 30.382088), (-136.412403, 32.423485), (-130.961553, 33.860454))
        make_face(mode=Mode.SUBTRACT)
    extrude(amount=F3_DEPTH, both=True)


solid = Compound([f2.part, f3.part])
